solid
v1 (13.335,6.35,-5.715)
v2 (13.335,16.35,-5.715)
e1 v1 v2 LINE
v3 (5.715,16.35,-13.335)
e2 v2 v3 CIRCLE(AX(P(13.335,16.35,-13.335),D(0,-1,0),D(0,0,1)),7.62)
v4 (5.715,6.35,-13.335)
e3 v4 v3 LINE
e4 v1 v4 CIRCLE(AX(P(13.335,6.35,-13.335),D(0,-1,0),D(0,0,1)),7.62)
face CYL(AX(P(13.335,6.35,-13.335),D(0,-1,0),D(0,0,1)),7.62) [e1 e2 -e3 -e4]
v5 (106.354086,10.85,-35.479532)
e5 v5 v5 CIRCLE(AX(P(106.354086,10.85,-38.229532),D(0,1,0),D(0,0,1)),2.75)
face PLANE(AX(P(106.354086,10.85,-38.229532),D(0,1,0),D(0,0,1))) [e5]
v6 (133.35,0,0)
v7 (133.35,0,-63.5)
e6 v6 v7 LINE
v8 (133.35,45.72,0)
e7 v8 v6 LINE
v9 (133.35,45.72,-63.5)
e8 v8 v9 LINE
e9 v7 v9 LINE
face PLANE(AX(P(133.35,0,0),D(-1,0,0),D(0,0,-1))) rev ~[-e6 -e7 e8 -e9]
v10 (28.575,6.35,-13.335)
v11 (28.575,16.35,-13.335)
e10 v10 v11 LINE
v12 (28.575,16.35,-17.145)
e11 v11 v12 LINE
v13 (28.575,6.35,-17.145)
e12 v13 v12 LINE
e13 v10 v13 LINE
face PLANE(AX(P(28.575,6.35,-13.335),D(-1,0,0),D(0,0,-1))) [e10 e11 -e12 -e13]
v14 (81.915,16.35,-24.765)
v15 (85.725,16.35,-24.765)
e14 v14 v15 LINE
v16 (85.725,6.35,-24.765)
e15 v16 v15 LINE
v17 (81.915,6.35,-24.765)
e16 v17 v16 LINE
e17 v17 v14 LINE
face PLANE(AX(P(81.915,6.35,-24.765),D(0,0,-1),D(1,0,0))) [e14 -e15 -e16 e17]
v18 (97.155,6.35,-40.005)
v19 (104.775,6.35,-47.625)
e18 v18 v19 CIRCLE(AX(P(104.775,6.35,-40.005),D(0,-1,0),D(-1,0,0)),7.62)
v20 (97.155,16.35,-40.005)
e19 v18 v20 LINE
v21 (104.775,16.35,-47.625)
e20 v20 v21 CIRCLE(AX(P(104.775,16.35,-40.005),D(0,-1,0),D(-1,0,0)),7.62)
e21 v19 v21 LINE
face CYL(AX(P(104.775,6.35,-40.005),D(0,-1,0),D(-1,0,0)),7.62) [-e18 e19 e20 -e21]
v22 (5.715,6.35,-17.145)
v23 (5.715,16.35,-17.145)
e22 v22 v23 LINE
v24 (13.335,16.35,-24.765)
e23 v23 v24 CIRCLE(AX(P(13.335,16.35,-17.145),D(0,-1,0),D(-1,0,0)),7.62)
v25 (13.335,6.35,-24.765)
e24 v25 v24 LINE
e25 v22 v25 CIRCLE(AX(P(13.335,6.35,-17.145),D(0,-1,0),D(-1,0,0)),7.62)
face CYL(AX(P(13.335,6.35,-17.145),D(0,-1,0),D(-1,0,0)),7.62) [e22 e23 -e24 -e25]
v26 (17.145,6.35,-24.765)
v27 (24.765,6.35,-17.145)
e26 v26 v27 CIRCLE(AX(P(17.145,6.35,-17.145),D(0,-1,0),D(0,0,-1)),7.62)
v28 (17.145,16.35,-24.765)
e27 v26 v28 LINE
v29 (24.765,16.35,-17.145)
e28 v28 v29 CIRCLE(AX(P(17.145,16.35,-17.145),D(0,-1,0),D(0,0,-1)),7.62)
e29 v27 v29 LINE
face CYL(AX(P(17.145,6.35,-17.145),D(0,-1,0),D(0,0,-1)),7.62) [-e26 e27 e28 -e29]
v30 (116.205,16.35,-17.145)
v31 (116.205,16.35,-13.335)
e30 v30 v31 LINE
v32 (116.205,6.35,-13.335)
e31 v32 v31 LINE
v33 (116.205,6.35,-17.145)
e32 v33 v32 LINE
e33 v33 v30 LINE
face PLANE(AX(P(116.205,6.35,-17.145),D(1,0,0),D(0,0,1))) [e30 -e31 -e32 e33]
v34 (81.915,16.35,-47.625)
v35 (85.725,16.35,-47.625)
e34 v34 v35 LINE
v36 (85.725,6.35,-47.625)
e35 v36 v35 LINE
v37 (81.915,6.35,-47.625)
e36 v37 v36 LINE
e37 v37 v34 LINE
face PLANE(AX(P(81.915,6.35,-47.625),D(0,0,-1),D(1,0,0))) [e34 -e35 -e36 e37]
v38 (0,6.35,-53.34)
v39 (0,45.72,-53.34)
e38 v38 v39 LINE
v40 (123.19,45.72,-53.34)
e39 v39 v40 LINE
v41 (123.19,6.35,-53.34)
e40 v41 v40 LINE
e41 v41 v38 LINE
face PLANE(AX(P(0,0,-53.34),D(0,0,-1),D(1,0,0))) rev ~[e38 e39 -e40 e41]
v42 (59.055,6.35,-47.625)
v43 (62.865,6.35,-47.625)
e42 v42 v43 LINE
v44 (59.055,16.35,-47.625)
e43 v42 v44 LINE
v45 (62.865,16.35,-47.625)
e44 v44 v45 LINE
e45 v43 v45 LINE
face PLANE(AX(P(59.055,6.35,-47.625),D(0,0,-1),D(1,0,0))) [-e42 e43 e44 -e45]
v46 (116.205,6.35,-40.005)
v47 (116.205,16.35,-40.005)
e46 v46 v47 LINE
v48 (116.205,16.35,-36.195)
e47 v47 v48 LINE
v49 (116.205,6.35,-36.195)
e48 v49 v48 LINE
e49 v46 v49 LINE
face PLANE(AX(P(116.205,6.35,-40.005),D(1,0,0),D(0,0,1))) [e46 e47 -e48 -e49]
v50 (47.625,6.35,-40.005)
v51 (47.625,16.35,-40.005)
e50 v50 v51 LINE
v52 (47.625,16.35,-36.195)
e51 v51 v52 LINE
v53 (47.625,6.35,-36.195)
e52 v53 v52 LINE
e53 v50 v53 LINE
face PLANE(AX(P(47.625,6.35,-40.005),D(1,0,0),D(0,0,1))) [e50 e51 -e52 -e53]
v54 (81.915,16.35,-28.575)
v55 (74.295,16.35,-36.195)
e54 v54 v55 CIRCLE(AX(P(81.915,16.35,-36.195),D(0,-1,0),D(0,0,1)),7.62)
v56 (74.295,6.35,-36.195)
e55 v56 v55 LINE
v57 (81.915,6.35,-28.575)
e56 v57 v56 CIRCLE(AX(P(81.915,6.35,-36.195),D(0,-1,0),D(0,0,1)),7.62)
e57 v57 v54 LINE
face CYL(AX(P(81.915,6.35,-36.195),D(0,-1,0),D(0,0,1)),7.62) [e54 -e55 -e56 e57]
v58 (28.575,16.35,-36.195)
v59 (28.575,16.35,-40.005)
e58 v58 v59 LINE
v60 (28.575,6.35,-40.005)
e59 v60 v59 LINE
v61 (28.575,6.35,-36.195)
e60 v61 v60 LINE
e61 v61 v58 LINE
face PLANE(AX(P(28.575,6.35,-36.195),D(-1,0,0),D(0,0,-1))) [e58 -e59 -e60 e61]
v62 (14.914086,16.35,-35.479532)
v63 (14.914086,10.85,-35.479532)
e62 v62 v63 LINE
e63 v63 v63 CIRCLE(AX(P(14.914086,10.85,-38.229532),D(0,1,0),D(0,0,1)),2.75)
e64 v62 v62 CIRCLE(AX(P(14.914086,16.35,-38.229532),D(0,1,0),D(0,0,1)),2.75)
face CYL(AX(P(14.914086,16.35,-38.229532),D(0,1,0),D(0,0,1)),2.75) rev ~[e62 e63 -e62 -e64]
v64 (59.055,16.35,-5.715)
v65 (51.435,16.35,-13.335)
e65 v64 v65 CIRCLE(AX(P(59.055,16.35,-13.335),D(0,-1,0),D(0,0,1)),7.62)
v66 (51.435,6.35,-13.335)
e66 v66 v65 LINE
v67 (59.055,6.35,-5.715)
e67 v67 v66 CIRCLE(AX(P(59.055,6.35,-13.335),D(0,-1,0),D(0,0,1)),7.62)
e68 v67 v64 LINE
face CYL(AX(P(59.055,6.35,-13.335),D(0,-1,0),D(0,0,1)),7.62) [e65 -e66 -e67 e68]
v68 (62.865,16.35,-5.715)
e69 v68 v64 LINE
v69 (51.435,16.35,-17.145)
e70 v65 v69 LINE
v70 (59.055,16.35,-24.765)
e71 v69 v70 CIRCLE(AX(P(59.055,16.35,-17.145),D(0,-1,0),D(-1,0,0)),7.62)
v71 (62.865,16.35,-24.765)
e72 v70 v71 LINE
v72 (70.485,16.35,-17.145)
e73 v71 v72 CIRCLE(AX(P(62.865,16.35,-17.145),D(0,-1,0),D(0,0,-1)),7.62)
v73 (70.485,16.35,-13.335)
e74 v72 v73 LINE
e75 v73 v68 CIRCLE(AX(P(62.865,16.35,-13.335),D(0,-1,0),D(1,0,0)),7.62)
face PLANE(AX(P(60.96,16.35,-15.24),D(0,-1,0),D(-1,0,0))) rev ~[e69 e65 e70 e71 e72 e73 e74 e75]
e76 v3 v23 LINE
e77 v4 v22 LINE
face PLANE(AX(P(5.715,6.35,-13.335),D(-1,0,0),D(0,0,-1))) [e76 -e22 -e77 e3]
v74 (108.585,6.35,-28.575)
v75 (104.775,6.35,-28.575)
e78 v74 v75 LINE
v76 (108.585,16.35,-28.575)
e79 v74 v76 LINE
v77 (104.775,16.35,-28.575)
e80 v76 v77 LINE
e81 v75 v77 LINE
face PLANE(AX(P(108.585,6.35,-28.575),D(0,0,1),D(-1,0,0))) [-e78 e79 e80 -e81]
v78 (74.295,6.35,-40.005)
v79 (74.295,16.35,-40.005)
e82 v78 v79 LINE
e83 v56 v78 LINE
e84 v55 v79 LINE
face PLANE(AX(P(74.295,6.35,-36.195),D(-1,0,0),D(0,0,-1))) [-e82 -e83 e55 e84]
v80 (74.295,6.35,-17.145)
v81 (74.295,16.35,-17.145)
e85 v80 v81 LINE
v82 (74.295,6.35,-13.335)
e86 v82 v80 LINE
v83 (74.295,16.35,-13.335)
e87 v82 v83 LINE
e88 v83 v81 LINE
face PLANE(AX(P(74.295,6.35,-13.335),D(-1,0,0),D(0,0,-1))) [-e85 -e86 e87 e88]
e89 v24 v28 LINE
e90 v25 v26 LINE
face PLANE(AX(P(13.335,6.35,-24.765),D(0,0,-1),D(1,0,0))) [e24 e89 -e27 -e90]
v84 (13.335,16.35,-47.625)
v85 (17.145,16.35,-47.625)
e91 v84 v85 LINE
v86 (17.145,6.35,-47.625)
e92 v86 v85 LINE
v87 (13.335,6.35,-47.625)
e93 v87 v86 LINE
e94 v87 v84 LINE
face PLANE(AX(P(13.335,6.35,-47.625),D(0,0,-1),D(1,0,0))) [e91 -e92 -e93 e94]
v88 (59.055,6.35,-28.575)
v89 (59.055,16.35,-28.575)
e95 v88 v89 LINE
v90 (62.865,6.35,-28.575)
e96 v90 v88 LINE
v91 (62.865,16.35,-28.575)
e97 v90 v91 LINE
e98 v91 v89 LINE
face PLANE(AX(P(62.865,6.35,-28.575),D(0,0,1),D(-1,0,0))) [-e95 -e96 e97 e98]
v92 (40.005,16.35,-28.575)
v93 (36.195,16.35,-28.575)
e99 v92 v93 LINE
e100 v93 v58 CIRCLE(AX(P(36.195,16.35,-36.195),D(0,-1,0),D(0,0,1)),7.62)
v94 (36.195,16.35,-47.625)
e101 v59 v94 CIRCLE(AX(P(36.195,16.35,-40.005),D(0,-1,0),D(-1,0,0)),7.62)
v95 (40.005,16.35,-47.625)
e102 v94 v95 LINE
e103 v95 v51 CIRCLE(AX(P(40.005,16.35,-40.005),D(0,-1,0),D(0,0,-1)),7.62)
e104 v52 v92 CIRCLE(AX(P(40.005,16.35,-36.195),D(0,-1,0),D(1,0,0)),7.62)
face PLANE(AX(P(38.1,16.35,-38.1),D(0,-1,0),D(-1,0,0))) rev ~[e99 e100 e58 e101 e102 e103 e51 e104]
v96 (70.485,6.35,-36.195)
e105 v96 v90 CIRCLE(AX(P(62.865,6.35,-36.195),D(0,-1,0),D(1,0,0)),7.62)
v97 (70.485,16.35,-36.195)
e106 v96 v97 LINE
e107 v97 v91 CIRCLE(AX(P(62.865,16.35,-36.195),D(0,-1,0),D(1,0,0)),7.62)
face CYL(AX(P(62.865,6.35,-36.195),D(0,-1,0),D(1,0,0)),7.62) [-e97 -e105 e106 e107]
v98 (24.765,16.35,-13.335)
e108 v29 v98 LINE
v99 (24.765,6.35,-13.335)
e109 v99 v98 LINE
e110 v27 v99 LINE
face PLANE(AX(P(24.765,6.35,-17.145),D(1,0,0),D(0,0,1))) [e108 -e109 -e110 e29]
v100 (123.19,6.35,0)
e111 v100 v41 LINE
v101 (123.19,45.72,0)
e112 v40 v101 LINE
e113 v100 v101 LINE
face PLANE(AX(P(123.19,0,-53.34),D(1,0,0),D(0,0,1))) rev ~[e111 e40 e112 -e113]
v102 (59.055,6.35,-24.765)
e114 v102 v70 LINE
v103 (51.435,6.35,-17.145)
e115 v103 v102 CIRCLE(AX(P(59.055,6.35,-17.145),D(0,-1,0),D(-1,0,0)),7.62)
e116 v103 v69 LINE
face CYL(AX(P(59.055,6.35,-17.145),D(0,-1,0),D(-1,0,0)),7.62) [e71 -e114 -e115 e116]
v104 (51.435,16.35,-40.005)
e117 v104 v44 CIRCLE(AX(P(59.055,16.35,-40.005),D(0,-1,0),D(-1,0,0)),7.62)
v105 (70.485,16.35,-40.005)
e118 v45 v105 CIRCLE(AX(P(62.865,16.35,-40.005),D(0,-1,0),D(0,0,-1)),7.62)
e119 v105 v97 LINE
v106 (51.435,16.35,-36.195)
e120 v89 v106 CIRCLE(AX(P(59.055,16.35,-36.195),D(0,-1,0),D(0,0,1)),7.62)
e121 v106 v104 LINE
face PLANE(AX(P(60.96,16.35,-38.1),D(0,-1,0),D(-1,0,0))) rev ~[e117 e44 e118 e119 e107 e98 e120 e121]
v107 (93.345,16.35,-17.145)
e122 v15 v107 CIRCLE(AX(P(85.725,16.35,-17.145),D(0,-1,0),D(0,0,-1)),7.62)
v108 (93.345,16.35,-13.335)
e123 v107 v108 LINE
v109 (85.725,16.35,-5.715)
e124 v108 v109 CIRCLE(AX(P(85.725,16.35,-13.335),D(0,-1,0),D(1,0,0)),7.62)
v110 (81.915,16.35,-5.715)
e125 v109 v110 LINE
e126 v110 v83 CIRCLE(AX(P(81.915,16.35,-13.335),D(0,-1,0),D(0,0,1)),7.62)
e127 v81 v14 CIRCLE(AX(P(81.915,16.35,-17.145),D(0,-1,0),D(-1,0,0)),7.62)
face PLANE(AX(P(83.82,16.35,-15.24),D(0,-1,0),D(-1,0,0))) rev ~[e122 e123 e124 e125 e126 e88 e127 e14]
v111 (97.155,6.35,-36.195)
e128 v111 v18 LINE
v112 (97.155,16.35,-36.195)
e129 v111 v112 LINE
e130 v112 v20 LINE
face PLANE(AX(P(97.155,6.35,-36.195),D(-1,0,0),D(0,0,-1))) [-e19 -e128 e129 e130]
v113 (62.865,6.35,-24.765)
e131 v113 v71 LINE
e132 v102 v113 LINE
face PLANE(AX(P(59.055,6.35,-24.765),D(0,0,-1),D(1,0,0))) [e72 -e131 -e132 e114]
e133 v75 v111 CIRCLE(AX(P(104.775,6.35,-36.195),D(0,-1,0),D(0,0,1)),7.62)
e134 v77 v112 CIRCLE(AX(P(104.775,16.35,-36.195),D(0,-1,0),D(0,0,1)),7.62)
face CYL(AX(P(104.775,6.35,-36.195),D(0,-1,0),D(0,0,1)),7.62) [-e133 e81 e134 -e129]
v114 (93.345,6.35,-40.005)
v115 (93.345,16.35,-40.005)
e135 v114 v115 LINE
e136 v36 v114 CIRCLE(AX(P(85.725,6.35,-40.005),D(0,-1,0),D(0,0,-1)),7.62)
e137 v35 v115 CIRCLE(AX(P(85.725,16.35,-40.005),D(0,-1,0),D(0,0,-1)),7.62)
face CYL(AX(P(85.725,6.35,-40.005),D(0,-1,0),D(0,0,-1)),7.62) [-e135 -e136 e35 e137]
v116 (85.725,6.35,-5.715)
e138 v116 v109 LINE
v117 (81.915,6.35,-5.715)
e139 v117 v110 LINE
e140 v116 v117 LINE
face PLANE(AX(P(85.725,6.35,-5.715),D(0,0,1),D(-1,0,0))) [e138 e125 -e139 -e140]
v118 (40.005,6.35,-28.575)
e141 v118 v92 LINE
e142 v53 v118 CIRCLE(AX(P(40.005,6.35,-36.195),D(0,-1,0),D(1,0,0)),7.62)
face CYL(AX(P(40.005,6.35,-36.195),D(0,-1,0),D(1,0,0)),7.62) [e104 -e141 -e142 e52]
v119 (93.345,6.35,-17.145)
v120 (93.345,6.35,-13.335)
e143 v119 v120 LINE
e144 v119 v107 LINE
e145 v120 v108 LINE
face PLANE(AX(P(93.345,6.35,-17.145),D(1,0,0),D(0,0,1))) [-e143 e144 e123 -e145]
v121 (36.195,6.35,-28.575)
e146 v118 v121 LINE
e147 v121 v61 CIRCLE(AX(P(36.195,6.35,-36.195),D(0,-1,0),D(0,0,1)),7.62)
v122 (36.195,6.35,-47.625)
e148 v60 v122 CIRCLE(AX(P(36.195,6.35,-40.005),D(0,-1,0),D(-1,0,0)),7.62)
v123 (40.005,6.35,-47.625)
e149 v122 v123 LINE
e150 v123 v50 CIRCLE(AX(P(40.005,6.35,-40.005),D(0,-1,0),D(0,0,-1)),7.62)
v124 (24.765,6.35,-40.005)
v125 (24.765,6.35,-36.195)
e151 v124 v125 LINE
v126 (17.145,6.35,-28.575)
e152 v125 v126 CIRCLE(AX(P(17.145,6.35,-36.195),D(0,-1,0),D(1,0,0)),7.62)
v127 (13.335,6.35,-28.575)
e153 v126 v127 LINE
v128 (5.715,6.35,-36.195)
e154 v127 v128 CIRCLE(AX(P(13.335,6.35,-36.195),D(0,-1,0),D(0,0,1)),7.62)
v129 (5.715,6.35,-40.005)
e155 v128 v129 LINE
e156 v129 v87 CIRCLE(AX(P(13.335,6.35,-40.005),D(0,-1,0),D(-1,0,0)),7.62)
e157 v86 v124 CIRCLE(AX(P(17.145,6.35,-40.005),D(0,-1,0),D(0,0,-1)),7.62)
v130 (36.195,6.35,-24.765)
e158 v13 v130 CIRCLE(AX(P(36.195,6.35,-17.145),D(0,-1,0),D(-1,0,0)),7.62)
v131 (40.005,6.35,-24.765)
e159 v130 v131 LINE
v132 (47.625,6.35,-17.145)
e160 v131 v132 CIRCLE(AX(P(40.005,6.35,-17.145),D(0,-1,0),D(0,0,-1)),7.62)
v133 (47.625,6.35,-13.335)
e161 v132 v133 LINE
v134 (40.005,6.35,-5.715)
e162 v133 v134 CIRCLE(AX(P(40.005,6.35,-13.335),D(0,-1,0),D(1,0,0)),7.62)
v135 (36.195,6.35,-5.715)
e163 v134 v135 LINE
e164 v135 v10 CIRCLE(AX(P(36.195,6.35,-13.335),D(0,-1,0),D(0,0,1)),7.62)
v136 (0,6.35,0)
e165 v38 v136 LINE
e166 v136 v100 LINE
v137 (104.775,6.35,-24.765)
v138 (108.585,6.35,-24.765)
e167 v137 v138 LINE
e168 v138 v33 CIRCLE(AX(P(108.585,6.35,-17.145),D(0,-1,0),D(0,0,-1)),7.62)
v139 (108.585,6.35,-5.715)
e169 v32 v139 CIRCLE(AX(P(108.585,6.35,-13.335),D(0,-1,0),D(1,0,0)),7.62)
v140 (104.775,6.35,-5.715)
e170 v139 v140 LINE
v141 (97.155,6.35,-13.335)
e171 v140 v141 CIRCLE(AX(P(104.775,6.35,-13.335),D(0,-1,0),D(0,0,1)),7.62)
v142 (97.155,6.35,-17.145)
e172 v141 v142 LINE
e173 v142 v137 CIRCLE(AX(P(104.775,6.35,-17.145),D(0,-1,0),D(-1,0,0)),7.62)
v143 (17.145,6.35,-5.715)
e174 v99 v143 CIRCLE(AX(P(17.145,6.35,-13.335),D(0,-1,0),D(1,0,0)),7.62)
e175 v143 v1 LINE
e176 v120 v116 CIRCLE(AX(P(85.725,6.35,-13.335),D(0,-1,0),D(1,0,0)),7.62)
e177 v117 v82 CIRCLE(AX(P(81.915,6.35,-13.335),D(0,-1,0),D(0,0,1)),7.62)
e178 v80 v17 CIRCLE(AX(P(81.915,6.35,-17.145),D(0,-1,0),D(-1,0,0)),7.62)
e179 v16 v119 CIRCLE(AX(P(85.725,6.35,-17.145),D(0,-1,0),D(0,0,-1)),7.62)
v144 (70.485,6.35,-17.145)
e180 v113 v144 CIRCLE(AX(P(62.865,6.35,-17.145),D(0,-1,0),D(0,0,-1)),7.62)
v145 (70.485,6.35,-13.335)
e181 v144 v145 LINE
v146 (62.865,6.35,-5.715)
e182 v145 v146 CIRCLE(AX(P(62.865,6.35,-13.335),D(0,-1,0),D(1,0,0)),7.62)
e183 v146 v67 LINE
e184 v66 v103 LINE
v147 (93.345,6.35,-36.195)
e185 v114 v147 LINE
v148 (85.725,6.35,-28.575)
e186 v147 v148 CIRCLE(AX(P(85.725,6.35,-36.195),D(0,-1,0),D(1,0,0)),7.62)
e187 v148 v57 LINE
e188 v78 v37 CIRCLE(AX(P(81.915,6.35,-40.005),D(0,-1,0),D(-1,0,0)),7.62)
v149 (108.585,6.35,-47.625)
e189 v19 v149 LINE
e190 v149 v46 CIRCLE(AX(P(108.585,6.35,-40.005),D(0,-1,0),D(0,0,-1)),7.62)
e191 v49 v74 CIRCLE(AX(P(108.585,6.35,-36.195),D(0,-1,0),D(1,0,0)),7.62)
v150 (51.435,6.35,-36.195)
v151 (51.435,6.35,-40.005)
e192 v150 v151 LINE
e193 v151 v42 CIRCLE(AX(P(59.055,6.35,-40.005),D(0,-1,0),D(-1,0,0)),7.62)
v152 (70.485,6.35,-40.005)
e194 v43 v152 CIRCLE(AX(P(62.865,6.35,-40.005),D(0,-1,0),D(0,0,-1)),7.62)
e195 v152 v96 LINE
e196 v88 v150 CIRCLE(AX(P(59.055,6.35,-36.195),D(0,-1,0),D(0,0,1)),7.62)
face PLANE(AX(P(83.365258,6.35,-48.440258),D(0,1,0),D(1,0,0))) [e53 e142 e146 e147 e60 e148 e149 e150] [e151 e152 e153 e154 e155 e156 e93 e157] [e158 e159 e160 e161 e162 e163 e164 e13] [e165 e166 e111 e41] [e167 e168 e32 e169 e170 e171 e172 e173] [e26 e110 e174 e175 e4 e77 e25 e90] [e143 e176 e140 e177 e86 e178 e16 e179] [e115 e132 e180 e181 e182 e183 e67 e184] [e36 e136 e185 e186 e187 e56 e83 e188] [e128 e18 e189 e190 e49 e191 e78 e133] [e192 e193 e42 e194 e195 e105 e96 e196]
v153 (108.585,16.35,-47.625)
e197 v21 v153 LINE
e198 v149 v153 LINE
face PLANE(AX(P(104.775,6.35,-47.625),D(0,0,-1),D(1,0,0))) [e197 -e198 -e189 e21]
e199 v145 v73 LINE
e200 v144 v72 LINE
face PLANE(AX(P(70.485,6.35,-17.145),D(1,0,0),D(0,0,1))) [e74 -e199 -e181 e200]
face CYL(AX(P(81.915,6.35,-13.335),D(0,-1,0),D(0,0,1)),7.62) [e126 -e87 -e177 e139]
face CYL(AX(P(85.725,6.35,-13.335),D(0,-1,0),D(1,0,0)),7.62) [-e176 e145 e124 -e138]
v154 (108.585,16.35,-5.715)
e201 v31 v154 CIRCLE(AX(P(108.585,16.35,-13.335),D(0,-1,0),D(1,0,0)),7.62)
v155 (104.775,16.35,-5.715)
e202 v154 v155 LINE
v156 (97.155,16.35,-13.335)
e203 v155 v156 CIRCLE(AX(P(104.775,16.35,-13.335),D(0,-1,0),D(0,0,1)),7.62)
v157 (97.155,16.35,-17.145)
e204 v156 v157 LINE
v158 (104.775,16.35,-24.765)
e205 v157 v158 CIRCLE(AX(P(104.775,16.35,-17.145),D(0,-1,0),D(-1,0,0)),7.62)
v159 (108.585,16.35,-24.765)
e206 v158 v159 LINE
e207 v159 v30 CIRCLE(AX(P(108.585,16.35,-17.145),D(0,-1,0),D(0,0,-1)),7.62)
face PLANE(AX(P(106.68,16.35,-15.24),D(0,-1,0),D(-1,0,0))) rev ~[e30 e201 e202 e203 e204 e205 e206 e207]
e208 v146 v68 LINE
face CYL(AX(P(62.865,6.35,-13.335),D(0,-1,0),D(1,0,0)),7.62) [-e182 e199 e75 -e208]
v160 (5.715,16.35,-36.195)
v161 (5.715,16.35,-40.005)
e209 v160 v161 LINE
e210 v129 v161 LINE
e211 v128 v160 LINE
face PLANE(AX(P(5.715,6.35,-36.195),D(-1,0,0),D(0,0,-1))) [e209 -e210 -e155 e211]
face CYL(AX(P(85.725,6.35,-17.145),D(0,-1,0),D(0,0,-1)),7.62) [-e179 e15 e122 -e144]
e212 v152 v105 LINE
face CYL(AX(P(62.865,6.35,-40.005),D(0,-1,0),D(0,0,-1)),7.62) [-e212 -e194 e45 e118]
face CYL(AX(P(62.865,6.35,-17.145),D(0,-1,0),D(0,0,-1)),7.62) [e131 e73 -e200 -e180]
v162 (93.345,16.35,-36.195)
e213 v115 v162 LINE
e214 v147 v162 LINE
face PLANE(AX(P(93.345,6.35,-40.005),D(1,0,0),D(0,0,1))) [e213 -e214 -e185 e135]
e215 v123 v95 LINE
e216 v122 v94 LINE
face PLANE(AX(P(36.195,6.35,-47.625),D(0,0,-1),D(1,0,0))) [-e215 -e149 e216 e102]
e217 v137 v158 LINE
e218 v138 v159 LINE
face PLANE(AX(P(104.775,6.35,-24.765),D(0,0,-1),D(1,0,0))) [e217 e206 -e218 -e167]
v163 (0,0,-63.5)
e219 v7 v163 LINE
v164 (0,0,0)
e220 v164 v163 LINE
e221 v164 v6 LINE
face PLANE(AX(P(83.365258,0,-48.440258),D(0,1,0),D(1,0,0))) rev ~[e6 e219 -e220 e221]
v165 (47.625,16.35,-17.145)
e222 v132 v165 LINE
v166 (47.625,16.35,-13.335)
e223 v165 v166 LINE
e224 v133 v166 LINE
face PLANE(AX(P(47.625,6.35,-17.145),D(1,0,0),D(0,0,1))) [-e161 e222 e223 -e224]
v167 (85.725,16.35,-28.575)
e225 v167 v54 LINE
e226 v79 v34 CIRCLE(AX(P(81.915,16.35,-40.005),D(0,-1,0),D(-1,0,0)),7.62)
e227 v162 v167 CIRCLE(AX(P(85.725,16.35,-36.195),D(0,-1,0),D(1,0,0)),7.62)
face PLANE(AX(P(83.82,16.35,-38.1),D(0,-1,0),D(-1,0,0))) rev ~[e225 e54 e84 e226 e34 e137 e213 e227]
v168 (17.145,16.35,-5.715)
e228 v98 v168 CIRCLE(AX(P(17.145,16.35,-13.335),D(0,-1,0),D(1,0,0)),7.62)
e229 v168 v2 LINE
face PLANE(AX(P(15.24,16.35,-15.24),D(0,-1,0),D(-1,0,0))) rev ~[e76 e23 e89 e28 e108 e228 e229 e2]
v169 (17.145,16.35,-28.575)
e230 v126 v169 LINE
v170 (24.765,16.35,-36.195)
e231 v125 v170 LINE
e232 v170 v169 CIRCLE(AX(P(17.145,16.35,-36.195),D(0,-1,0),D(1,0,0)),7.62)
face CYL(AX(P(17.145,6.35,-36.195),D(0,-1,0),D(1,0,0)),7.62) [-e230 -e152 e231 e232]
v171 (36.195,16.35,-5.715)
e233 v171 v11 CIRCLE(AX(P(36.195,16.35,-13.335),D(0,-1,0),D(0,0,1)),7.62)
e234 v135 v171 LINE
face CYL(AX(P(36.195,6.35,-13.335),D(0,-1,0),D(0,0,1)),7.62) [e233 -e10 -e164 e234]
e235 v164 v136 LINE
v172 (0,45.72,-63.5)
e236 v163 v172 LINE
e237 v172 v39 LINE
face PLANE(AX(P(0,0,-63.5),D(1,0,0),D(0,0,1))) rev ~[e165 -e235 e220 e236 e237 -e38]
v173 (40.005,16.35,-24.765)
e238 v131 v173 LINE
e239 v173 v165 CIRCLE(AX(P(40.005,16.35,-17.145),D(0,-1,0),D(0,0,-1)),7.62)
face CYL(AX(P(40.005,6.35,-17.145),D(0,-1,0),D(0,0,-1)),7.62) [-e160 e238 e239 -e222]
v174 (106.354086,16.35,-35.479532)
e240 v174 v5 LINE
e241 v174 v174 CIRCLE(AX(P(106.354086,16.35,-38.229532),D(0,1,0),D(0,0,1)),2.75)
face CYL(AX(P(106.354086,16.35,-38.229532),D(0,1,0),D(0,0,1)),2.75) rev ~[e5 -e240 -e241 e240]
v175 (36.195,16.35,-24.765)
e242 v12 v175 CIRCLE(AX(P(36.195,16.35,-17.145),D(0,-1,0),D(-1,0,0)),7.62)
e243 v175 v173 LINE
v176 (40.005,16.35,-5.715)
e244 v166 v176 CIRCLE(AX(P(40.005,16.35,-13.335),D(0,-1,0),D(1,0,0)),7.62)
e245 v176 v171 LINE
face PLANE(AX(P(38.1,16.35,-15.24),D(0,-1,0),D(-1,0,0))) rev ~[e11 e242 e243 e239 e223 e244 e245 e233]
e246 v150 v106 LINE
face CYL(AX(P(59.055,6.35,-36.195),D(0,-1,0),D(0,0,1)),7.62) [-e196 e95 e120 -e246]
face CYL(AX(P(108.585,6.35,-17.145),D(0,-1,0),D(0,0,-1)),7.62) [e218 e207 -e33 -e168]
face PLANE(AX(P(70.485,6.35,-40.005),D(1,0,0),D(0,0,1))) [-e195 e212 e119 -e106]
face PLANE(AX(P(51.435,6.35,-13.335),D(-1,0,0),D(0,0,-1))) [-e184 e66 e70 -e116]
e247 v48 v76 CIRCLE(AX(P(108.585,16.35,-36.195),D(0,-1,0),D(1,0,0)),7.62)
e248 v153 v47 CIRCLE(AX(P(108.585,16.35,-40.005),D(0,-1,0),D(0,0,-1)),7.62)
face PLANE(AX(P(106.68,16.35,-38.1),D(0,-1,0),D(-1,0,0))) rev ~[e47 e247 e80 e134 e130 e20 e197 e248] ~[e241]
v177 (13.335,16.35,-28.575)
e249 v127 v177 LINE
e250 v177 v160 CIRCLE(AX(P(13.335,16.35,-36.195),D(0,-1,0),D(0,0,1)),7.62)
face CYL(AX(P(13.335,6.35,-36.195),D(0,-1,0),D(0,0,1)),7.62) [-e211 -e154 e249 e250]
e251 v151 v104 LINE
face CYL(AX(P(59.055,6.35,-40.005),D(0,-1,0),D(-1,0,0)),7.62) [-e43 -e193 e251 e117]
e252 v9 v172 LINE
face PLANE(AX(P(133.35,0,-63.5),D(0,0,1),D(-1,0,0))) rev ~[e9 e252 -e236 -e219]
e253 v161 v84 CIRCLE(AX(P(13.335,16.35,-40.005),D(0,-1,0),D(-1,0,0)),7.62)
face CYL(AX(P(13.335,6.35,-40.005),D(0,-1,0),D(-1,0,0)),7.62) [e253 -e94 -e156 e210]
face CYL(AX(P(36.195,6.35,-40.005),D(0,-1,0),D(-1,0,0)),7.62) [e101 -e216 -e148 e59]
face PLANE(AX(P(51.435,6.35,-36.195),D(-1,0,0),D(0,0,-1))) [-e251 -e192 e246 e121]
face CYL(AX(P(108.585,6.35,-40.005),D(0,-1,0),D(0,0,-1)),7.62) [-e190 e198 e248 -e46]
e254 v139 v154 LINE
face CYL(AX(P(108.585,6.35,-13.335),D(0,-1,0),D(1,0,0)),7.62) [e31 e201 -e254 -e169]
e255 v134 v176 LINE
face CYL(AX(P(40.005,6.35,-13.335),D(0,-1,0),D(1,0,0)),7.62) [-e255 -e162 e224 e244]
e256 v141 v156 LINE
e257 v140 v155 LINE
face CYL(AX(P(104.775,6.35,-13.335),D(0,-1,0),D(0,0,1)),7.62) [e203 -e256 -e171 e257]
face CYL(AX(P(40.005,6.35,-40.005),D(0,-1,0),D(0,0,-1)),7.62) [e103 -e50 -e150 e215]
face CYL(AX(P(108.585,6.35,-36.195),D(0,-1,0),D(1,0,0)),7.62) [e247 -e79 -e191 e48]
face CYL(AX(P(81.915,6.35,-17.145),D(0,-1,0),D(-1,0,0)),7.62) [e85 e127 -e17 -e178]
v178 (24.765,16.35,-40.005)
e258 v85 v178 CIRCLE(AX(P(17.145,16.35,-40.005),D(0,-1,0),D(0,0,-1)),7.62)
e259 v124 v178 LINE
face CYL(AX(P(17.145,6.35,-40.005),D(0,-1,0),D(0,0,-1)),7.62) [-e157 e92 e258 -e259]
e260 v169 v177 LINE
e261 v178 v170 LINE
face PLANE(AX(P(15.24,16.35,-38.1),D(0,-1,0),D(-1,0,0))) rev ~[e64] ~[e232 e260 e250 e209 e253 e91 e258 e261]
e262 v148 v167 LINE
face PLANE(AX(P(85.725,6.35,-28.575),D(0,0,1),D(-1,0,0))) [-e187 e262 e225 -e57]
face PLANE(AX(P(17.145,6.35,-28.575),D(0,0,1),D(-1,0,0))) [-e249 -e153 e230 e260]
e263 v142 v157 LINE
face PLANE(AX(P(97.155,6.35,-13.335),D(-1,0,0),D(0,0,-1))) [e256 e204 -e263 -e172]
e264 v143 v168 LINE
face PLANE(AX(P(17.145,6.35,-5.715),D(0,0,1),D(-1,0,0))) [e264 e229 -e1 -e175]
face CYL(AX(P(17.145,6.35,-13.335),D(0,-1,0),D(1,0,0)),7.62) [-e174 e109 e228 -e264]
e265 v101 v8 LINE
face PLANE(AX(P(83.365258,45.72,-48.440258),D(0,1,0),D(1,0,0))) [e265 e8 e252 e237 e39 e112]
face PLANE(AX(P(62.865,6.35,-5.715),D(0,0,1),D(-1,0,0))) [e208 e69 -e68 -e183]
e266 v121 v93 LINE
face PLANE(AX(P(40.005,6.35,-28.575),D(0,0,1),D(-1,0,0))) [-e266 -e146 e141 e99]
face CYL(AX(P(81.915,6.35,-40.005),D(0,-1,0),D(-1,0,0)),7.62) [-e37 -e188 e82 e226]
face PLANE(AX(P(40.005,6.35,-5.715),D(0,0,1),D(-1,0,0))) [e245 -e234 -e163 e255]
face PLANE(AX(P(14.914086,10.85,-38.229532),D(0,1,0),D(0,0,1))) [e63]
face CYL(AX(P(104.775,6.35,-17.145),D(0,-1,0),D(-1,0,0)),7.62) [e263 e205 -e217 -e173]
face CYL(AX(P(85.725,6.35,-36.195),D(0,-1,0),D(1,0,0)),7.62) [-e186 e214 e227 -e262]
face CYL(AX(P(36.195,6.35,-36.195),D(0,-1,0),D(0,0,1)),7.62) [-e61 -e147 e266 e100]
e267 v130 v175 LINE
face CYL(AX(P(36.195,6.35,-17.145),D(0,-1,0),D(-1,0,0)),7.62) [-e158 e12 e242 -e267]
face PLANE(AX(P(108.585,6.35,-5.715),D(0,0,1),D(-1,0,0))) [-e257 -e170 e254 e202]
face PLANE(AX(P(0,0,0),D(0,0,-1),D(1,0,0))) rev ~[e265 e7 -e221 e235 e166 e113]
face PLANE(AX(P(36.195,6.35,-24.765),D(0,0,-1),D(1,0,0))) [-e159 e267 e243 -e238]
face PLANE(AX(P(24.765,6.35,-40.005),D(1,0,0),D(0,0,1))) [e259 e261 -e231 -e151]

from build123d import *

# Parameters (mm, degrees)
SKETCH2_W            = 133.35
SKETCH2_H            = 63.5
BOSS_EXTRUDE2_DEPTH  = 6.35
BOSS_EXTRUDE3_DEPTH  = 45.72
BOSS_EXTRUDE1_DEPTH  = 10
LPATTERN1_COUNT      = 5
LPATTERN1_PITCH      = 22.86
LPATTERN1_COUNT_DIR2 = 2
LPATTERN1_PITCH_DIR2 = 22.86
SKETCH6_R            = 2.75
CUT_EXTRUDE1_DEPTH   = 5.5


with BuildPart() as part:
    # Sketch2 → Boss-Extrude2 (new body)
    with BuildSketch(Plane(origin=(0, 0, 0), x_dir=(1, 0, 0), z_dir=(0, 1, 0))):
        with Locations((66.675, 31.75)):
            Rectangle(SKETCH2_W, SKETCH2_H)
    extrude(amount=BOSS_EXTRUDE2_DEPTH)

    # Sketch2<4> → Boss-Extrude3 (add)
    with BuildSketch(Plane(origin=(0, 0, 0), x_dir=(1, 0, 0), z_dir=(0, 1, 0))):
        Polygon((123.19, 53.34), (123.19, 0), (133.35, 0), (133.35, 63.5), (0, 63.5), (0, 53.34), align=None)
    extrude(amount=BOSS_EXTRUDE3_DEPTH)

    # Sketch1 → Boss-Extrude1 (add)
    with BuildSketch(Plane(origin=(0, 6.35, 6.35), x_dir=(1, 0, 0), z_dir=(0, 1, 0))):
        with BuildLine():
            Line((13.335, 31.115), (17.145, 31.115))
            ThreePointArc((17.145, 31.115), (22.533153673, 28.883153673), (24.765, 23.495))
            Line((24.765, 23.495), (24.765, 19.685))
            ThreePointArc((24.765, 19.685), (22.533153673, 14.296846327), (17.145, 12.065))
            Line((17.145, 12.065), (13.335, 12.065))
            ThreePointArc((13.335, 12.065), (7.946846327, 14.296846327), (5.715, 19.685))
            Line((5.715, 19.685), (5.715, 23.495))
            ThreePointArc((5.715, 23.495), (7.946846327, 28.883153673), (13.335, 31.115))
        make_face()
    boss_extrude1 = extrude(amount=BOSS_EXTRUDE1_DEPTH)

    # LPattern1: Boss-Extrude1 5 × 2
    with Locations(*[(i * LPATTERN1_PITCH, 0, -j * LPATTERN1_PITCH_DIR2) for i in range(LPATTERN1_COUNT) for j in range(LPATTERN1_COUNT_DIR2) if (i, j) != (0, 0)]):
        add(boss_extrude1)

    # Sketch6 → Cut-Extrude1 (cut)
    with BuildSketch(Plane(origin=(0, 16.35, 0), x_dir=(1, 0, 0), z_dir=(0, 1, 0))):
        with Locations((106.354086264, 38.229532142)):
            Circle(SKETCH6_R)
        with Locations((14.914086264, 38.229532142)):
            Circle(SKETCH6_R)
    extrude(amount=-CUT_EXTRUDE1_DEPTH, mode=Mode.SUBTRACT)


solid = part.part
